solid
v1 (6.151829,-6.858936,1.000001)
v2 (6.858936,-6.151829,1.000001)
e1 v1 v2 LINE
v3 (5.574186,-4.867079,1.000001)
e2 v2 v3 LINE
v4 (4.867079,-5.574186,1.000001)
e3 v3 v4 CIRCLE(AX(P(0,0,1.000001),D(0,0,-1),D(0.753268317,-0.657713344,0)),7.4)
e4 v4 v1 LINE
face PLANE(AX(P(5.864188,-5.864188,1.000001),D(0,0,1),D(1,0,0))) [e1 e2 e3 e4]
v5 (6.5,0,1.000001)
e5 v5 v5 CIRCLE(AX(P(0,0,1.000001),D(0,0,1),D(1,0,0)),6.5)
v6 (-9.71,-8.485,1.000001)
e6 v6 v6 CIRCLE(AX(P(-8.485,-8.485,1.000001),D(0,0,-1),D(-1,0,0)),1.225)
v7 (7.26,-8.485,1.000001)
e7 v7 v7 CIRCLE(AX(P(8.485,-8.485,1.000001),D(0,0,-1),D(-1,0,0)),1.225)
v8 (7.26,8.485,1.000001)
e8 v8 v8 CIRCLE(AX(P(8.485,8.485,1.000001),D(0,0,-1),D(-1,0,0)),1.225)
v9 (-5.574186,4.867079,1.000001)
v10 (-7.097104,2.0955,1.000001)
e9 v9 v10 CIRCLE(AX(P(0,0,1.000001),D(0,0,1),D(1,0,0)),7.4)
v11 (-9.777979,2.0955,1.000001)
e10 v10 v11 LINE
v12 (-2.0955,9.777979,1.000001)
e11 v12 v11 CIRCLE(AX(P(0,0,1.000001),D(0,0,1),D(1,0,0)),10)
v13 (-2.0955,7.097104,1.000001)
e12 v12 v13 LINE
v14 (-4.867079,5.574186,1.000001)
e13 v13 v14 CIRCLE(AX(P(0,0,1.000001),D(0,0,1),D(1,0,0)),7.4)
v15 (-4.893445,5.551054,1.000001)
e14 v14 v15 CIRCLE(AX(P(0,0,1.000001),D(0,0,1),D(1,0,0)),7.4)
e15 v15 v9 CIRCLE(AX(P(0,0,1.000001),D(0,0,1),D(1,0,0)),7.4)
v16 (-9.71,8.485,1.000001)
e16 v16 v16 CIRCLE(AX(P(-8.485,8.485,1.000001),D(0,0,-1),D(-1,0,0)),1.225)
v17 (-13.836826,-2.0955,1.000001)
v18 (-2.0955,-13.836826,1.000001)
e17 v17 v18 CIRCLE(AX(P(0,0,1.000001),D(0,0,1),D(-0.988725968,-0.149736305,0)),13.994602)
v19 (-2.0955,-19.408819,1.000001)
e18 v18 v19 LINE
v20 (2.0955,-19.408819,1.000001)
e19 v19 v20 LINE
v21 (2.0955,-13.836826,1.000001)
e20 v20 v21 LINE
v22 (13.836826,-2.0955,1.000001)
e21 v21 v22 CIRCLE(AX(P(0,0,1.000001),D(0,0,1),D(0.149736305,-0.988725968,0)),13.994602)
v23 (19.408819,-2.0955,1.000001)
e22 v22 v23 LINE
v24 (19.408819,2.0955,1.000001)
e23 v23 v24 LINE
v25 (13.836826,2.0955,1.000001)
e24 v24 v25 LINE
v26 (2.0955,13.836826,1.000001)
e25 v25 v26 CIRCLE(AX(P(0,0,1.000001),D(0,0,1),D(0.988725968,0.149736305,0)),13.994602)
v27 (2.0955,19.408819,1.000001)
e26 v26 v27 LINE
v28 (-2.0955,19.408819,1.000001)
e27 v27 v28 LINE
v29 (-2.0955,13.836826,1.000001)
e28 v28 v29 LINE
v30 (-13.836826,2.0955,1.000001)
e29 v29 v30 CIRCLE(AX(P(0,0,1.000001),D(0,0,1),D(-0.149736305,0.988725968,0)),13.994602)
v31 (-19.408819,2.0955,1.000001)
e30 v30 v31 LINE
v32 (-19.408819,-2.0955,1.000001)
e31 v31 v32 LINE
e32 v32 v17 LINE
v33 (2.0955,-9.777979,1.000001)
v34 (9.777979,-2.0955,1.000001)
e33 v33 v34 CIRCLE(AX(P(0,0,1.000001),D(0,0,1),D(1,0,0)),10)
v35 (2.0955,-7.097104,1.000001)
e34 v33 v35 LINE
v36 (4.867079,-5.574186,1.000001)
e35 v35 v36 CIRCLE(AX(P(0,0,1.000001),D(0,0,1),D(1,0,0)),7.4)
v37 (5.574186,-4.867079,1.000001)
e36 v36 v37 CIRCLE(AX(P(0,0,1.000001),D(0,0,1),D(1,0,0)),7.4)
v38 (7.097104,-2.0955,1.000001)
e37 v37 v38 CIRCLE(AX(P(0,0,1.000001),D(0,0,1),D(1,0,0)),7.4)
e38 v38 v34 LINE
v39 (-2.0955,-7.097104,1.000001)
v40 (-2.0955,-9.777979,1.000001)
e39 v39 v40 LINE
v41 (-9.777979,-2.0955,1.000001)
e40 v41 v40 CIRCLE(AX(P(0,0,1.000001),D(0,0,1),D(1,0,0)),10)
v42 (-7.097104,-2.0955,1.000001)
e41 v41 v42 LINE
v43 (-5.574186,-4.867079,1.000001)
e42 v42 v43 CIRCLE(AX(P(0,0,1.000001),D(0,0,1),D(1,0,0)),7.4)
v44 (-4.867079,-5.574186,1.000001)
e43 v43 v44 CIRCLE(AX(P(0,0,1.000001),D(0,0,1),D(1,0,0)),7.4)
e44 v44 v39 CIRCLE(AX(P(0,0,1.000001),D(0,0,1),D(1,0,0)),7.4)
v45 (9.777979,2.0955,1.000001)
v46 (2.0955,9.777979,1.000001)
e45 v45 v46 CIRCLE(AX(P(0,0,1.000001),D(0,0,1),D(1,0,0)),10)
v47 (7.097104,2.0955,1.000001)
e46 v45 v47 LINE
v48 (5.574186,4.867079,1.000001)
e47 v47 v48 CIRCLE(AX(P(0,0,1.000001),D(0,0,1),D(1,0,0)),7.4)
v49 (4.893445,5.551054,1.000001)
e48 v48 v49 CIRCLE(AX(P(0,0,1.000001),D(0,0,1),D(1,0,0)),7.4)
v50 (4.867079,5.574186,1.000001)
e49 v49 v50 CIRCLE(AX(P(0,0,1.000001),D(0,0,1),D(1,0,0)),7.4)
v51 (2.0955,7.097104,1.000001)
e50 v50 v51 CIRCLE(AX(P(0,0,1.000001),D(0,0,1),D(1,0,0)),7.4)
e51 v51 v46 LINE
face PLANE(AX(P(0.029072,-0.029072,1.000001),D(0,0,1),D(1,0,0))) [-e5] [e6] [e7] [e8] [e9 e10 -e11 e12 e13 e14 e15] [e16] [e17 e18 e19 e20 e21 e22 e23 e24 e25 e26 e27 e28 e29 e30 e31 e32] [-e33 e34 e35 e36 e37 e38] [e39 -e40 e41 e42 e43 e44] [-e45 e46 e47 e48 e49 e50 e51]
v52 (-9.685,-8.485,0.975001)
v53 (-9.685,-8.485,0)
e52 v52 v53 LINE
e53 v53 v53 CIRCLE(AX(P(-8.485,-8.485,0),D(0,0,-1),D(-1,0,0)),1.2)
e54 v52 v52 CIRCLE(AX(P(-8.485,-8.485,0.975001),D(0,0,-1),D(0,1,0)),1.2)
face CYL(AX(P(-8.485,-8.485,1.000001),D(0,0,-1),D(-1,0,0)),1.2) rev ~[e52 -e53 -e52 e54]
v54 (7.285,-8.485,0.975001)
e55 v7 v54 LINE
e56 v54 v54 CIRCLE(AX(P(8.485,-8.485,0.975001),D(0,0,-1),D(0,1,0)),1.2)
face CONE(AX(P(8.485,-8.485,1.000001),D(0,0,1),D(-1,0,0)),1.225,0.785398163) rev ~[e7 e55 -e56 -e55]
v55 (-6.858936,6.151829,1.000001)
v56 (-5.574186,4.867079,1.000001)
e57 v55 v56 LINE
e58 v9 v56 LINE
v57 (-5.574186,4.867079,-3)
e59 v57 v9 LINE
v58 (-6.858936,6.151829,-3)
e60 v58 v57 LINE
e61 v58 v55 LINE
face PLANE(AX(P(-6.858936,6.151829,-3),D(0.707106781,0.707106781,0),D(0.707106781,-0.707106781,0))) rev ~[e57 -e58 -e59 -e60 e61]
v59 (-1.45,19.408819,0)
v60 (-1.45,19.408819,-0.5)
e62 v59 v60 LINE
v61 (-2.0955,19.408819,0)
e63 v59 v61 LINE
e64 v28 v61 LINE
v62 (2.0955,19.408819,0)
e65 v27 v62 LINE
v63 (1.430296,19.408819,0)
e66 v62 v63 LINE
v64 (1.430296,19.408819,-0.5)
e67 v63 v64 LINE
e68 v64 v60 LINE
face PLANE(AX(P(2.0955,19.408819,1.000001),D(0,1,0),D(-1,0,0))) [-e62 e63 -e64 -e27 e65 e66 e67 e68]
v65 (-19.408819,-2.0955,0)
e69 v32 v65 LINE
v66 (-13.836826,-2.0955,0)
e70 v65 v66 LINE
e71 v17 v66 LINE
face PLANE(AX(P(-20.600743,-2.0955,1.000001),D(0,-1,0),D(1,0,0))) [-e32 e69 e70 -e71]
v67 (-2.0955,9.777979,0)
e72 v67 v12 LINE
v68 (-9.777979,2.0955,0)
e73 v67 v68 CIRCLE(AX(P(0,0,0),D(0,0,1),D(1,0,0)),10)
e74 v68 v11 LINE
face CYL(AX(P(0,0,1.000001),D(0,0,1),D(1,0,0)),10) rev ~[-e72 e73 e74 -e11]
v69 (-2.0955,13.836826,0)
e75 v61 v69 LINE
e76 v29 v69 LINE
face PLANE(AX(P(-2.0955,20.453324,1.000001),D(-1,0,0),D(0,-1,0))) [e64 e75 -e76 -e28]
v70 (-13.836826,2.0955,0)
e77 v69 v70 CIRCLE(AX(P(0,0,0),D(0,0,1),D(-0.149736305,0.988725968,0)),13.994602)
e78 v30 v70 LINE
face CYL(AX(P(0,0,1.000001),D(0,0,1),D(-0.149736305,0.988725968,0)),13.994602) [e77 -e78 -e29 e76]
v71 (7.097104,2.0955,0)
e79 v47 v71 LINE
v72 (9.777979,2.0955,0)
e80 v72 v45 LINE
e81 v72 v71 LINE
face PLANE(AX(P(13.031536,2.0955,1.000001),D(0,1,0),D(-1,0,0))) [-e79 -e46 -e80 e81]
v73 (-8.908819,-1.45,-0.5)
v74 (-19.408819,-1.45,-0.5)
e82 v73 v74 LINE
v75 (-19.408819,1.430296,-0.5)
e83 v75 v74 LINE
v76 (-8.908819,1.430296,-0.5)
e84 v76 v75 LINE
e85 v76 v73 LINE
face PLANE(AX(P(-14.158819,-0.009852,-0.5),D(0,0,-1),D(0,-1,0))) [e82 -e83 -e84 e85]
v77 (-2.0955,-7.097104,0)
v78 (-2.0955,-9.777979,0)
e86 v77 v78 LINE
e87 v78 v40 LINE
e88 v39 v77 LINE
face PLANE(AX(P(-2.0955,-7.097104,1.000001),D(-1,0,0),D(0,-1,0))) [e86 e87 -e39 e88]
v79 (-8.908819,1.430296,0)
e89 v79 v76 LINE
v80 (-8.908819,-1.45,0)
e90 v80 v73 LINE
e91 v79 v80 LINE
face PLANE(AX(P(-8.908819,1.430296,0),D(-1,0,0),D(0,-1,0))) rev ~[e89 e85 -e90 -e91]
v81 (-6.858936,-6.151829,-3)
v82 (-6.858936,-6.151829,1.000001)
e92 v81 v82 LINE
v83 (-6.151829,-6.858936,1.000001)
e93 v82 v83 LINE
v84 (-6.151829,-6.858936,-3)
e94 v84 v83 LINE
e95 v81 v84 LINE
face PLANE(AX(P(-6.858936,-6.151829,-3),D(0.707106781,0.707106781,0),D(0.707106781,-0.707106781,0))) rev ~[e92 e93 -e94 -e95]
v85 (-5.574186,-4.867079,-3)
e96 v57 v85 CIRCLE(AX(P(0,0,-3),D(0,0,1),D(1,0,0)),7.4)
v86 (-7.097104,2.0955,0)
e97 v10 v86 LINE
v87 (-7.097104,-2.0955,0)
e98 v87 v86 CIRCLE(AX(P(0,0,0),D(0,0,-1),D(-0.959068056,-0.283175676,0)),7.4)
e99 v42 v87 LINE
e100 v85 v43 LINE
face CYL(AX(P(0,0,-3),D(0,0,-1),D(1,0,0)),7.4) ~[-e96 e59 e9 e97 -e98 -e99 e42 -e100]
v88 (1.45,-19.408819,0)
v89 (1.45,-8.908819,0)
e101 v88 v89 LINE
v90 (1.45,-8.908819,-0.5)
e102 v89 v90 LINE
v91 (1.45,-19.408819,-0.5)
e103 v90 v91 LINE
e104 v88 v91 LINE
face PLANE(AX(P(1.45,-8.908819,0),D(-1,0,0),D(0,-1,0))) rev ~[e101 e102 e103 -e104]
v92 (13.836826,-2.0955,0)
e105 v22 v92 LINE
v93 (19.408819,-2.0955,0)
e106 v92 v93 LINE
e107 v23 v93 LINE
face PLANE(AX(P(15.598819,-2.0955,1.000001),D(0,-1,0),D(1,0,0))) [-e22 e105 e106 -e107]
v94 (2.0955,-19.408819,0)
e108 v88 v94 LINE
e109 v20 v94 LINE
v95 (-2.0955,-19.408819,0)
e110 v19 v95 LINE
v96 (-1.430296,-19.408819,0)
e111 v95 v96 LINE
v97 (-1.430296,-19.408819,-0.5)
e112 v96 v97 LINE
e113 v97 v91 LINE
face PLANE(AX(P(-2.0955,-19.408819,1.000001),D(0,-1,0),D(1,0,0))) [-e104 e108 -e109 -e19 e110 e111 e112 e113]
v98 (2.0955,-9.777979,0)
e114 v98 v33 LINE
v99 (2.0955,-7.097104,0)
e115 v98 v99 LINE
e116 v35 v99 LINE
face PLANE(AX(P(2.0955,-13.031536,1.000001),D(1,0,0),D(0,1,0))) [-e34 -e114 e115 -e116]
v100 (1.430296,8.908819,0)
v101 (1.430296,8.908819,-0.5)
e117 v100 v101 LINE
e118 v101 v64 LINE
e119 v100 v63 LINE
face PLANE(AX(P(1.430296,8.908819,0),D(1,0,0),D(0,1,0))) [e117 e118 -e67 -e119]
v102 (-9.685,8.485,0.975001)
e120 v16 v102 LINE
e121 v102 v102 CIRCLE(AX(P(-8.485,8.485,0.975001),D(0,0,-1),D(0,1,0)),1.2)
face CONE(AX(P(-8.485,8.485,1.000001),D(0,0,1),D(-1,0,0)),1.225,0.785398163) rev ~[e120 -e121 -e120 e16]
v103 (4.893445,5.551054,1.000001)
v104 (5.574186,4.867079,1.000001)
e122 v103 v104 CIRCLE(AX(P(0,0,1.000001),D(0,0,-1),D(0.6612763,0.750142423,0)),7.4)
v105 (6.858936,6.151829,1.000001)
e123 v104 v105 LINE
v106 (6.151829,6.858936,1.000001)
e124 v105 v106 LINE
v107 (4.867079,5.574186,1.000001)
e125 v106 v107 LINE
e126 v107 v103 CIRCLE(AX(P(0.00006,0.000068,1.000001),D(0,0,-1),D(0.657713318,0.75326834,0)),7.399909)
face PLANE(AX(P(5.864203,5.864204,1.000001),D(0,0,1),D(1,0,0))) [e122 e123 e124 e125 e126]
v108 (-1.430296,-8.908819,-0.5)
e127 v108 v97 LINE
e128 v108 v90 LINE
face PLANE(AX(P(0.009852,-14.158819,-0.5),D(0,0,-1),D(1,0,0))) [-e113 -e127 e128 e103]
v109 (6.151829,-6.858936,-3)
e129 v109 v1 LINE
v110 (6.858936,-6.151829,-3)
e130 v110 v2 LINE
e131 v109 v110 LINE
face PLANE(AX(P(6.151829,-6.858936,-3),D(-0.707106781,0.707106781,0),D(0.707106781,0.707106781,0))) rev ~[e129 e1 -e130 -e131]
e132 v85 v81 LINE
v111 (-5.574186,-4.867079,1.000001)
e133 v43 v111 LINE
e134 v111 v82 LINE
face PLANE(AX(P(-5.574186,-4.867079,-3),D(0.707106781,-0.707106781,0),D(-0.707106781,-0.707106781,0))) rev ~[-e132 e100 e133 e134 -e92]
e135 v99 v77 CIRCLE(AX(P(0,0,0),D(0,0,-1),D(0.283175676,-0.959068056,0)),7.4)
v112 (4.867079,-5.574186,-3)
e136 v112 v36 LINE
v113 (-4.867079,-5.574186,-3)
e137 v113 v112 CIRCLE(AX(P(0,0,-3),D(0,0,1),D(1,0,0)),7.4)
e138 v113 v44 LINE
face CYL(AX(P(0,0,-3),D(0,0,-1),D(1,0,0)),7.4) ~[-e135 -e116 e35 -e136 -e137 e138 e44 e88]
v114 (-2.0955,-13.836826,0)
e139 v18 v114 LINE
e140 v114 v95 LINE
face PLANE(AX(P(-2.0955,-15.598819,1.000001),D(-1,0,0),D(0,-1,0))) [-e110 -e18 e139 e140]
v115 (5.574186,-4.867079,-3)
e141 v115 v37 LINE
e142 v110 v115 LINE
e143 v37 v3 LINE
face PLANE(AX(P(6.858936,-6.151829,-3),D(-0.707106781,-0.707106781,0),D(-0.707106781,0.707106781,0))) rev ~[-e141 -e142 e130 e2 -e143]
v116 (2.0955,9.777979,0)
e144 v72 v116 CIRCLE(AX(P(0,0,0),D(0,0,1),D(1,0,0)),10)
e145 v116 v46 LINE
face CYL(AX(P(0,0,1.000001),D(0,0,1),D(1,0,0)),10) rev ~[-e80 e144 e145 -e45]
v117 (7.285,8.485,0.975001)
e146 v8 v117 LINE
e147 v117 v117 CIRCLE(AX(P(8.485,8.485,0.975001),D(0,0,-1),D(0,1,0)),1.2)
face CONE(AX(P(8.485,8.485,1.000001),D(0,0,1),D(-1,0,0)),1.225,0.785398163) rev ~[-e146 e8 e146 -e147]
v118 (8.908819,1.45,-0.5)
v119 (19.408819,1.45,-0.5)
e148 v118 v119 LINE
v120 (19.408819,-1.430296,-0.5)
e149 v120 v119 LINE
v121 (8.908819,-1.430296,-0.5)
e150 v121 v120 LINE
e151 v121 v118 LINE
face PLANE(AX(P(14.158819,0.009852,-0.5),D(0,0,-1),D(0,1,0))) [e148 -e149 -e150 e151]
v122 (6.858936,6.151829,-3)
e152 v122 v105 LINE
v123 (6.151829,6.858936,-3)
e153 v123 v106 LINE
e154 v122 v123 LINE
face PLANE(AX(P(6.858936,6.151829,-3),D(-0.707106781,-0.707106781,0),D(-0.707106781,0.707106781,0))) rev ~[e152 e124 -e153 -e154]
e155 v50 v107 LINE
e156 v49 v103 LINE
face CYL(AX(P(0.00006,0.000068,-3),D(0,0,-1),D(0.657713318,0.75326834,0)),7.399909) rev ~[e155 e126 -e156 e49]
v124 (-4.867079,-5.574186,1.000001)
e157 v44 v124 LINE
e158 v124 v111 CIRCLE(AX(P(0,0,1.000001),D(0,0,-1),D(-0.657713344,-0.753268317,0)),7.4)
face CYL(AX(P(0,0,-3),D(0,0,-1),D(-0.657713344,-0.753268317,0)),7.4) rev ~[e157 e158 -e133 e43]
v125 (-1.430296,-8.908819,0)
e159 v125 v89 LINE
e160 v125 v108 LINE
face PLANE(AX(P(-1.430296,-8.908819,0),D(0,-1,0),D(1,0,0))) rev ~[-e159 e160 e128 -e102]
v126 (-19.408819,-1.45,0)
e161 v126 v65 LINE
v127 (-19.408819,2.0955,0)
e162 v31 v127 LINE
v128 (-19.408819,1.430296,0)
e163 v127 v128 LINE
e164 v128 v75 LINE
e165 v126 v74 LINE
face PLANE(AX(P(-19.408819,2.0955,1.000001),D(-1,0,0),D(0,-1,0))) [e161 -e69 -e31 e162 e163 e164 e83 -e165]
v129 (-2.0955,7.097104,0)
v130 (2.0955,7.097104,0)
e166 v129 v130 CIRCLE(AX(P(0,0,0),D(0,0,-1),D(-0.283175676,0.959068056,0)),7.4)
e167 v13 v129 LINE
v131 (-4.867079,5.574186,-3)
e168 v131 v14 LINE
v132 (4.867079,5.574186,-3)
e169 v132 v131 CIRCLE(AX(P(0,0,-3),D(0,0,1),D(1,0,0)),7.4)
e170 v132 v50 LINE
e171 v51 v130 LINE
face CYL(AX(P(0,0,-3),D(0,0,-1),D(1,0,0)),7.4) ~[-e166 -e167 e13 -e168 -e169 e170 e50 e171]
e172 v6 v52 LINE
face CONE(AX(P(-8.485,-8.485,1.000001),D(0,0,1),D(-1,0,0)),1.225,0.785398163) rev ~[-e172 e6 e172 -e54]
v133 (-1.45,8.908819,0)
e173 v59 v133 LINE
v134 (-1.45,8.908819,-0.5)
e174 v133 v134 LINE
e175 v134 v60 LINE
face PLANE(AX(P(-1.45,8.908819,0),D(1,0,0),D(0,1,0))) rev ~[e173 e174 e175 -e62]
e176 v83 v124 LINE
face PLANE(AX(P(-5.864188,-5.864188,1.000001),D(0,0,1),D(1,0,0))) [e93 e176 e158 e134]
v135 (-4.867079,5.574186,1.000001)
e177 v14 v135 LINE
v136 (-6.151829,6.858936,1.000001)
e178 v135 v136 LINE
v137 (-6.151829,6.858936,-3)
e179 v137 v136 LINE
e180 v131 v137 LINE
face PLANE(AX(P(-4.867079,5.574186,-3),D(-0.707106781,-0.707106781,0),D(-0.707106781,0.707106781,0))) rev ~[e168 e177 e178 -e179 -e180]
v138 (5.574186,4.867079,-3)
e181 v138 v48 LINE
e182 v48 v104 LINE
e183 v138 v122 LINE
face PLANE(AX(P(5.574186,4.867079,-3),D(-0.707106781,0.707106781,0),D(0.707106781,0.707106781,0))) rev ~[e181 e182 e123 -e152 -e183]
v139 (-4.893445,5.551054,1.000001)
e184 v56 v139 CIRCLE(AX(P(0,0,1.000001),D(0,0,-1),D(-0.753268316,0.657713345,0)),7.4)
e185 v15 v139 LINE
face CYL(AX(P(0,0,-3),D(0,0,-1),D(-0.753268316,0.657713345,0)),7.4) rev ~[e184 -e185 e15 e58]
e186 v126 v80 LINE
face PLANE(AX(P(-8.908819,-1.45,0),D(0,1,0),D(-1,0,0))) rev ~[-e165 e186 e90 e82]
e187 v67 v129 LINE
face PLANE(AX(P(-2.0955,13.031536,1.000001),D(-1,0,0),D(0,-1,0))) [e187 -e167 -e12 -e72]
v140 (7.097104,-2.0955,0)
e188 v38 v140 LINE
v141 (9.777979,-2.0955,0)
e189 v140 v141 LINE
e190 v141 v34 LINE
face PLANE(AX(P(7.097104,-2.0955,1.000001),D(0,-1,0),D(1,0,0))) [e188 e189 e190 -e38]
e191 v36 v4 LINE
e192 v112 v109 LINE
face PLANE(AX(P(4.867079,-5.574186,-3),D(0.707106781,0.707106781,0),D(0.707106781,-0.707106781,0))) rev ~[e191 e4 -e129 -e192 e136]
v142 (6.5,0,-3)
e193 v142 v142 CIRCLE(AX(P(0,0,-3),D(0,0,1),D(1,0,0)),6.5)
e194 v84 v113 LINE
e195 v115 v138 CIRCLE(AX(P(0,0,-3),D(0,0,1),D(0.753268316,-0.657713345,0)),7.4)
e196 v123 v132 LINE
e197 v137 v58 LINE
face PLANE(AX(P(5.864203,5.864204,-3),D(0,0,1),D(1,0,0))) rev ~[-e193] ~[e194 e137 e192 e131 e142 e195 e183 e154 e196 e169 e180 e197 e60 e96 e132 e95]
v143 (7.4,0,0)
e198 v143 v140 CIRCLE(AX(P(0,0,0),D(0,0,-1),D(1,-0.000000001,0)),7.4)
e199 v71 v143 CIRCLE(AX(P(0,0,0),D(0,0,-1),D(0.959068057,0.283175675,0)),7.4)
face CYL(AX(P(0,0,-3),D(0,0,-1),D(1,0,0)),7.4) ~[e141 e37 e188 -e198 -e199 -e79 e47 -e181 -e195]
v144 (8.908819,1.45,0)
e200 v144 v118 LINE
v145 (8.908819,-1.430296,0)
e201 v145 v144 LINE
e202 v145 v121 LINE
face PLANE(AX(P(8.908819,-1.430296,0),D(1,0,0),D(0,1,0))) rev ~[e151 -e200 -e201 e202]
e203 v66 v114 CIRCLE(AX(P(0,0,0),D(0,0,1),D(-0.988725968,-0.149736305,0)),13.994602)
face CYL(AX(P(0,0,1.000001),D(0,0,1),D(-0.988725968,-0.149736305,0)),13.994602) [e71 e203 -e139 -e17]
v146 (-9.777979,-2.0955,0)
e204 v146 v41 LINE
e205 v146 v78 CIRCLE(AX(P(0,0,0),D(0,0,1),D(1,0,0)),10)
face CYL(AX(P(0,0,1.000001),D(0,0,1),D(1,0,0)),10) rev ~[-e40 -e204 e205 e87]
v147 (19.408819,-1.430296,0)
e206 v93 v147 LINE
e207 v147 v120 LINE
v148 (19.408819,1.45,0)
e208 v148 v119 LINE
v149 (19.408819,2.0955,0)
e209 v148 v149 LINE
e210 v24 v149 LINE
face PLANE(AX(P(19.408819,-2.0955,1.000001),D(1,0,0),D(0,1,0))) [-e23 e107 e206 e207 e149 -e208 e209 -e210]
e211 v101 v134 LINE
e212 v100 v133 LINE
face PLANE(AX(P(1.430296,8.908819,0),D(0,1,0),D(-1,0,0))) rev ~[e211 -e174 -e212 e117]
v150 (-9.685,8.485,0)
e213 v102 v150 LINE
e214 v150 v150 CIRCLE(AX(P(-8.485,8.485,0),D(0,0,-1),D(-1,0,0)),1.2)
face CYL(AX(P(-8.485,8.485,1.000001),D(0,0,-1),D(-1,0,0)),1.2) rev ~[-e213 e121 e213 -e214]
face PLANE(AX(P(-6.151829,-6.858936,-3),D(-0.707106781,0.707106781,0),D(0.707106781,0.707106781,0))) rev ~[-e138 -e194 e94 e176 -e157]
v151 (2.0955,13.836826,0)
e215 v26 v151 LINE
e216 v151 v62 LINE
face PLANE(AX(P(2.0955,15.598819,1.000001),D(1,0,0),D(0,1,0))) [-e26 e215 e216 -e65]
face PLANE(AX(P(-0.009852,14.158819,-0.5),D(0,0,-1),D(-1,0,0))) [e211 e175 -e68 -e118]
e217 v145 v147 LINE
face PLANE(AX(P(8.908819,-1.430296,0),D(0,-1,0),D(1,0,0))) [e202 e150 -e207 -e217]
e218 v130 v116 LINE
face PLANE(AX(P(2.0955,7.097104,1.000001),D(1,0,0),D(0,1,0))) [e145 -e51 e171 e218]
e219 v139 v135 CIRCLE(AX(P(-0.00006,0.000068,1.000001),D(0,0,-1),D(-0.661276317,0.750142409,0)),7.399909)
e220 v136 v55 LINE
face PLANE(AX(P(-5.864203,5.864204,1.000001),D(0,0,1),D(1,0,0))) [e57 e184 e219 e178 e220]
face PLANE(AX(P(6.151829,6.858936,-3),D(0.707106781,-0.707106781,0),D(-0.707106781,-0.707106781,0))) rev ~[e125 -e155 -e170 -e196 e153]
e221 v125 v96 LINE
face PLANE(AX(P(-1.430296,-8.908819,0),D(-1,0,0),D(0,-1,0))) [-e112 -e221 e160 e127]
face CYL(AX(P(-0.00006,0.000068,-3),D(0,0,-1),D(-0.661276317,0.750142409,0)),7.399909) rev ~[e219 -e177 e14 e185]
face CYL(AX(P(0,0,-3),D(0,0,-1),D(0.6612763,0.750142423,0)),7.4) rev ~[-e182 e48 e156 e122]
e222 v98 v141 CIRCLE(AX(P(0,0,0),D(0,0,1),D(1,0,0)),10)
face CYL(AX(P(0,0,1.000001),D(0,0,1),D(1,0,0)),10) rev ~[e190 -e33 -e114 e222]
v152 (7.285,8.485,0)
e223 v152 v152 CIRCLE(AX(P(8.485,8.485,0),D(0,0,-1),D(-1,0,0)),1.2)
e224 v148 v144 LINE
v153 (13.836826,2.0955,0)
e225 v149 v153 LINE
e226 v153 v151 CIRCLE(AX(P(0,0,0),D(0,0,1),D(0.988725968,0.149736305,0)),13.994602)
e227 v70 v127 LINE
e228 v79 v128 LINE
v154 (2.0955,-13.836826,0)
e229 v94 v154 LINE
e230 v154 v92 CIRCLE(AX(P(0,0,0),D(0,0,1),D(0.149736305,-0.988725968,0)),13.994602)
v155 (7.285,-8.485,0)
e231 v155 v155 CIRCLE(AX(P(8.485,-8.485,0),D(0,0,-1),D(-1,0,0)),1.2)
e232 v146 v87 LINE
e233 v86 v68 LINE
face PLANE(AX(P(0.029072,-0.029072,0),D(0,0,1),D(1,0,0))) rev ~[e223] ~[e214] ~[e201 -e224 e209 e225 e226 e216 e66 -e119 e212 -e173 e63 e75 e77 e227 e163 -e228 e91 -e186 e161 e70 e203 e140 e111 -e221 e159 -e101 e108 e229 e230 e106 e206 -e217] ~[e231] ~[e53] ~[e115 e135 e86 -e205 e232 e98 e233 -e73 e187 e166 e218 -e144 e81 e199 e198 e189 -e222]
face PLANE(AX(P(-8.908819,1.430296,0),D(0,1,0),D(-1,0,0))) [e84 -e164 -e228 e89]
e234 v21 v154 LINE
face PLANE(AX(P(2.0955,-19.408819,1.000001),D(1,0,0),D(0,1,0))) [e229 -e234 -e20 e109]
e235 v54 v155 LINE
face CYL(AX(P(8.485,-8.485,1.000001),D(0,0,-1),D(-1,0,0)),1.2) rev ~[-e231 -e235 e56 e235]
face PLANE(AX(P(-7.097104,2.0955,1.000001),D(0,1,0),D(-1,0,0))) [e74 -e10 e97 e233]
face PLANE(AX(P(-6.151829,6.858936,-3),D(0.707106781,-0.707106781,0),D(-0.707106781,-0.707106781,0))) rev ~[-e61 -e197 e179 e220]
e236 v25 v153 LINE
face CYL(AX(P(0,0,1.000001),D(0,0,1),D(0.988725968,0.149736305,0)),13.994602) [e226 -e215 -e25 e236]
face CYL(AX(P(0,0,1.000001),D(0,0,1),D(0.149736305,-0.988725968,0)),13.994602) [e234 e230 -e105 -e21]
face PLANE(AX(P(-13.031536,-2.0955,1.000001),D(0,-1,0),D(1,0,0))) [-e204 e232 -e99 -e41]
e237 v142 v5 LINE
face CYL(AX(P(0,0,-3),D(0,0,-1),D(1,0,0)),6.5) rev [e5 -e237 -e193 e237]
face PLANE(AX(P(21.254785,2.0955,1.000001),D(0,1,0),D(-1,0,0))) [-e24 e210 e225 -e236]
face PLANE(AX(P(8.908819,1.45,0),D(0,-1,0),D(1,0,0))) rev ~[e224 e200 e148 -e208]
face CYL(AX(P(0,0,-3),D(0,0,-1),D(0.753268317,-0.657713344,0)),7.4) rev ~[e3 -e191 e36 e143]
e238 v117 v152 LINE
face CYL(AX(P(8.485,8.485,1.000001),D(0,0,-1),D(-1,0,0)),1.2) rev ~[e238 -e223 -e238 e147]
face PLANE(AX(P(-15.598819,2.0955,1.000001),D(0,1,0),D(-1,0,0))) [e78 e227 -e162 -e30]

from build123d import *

# Parameters (mm, degrees)
BOSS_EXTRUDE1_DEPTH            = 1.0000005
BOSS_EXTRUDE1_DEPTH_BACK       = 3
SKETCH1_R                      = 7.4
SKETCH1_R_2                    = 6.5
BOSS_EXTRUDE2_DEPTH            = 1.0000005
BOSS_EXTRUDE12_START           = -3
BOSS_EXTRUDE12_DEPTH           = 4.000001
SKETCH6_W                      = 2.880295876
SKETCH6_H                      = 10.5
BOSS_EXTRUDE8_DEPTH            = 0.5
CIRPATTERN3_COUNT              = 4
SKETCH7_R                      = 14
SKETCH7_R_2                    = 10
BOSS_EXTRUDE10_DEPTH           = 1.0000005
M2_CLEARANCE_HOLE1_D           = 2.4
M2_CLEARANCE_HOLE1_CSINK_D     = 2.45
M2_CLEARANCE_HOLE1_CSINK_ANGLE = 90
CUT_EXTRUDE1_DEPTH             = 28.738141627


with BuildPart() as part:
    # Sketch1 → Boss-Extrude1 (new, two sides: drawn at the far end of the back side and taken through both)
    with BuildSketch(Plane.XY.offset(-BOSS_EXTRUDE1_DEPTH_BACK)):
        Circle(SKETCH1_R)
        Circle(SKETCH1_R_2, mode=Mode.SUBTRACT)
    extrude(amount=BOSS_EXTRUDE1_DEPTH + BOSS_EXTRUDE1_DEPTH_BACK)

    # Sketch2 → Boss-Extrude2 (add)
    with BuildSketch(Plane.XY.offset(1.0000005)):
        with BuildLine():
            ThreePointArc((2.0955, -15.598818832), (6.979767945, -14.106633498), (11.129112031, -11.129112031))
            ThreePointArc((11.129112031, -11.129112031), (14.106633498, -6.979767945), (15.598818832, -2.0955))
            Line((15.598818832, -2.0955), (19.408818832, -2.0955))
            Line((19.408818832, -2.0955), (19.408818832, 2.0955))
            Line((19.408818832, 2.0955), (15.598818832, 2.0955))
            ThreePointArc((15.598818832, 2.0955), (11.129112031, 11.129112031), (2.0955, 15.598818832))
            Line((2.0955, 15.598818832), (2.0955, 19.408818832))
            Line((2.0955, 19.408818832), (-2.0955, 19.408818832))
            Line((-2.0955, 19.408818832), (-2.0955, 15.598818832))
            ThreePointArc((-2.0955, 15.598818832), (-11.129112031, 11.129112031), (-15.598818832, 2.0955))
            Line((-15.598818832, 2.0955), (-19.408818832, 2.0955))
            Line((-19.408818832, 2.0955), (-19.408818832, -2.0955))
            Line((-19.408818832, -2.0955), (-15.598818832, -2.0955))
            ThreePointArc((-15.598818832, -2.0955), (-11.129112031, -11.129112031), (-2.0955, -15.598818832))
            Line((-2.0955, -15.598818832), (-2.0955, -19.408818832))
            Line((-2.0955, -19.408818832), (2.0955, -19.408818832))
            Line((2.0955, -19.408818832), (2.0955, -15.598818832))
        make_face()
        with BuildLine():
            ThreePointArc((7.4, 0), (7.323884446, -1.05863904), (7.097103617, -2.0955))
            Line((7.097103617, -2.0955), (13.031535896, -2.0955))
            ThreePointArc((13.031535896, -2.0955), (11.753270525, -6.006053615), (9.333060807, -9.333060807))
            ThreePointArc((9.333060807, -9.333060807), (6.006053615, -11.753270525), (2.0955, -13.031535896))
            Line((2.0955, -13.031535896), (2.0955, -7.097103617))
            ThreePointArc((2.0955, -7.097103617), (0, -7.4), (-2.0955, -7.097103617))
            Line((-2.0955, -7.097103617), (-2.0955, -13.031535896))
            ThreePointArc((-2.0955, -13.031535896), (-9.333060807, -9.333060807), (-13.031535896, -2.0955))
            Line((-13.031535896, -2.0955), (-7.097103617, -2.0955))
            ThreePointArc((-7.097103617, -2.0955), (-7.4, 0), (-7.097103617, 2.0955))
            Line((-7.097103617, 2.0955), (-13.031535896, 2.0955))
            ThreePointArc((-13.031535896, 2.0955), (-9.333060807, 9.333060807), (-2.0955, 13.031535896))
            Line((-2.0955, 13.031535896), (-2.0955, 7.097103617))
            ThreePointArc((-2.0955, 7.097103617), (0, 7.4), (2.0955, 7.097103617))
            Line((2.0955, 7.097103617), (2.0955, 13.031535896))
            ThreePointArc((2.0955, 13.031535896), (9.333060807, 9.333060807), (13.031535896, 2.0955))
            Line((13.031535896, 2.0955), (7.097103617, 2.0955))
            ThreePointArc((7.097103617, 2.0955), (7.323884446, 1.05863904), (7.4, 0))
        make_face(mode=Mode.SUBTRACT)
    extrude(amount=-BOSS_EXTRUDE2_DEPTH)

    # Sketch3 → Boss-Extrude12 (add)
    with BuildSketch(Plane.XY.offset(BOSS_EXTRUDE12_START)):
        with BuildLine():
            ThreePointArc((4.867078755, 5.574185536), (4.880275394, 5.562635354), (4.893444623, 5.551053929))
            ThreePointArc((4.893444623, 5.551053929), (5.244976244, 5.220174729), (5.574185536, 4.867078755))
            Line((5.574185536, 4.867078755), (6.858935778, 6.151828996))
            Line((6.858935778, 6.151828996), (6.151828996, 6.858935778))
            Line((6.151828996, 6.858935778), (4.867078755, 5.574185536))
        make_face()
        with BuildLine():
            ThreePointArc((-4.893444623, 5.551053929), (-4.880275394, 5.562635354), (-4.867078755, 5.574185536))
            Line((-4.867078755, 5.574185536), (-6.151828996, 6.858935778))
            Line((-6.151828996, 6.858935778), (-6.858935778, 6.151828996))
            Line((-6.858935778, 6.151828996), (-5.574185536, 4.867078755))
            ThreePointArc((-5.574185536, 4.867078755), (-5.244976244, 5.220174729), (-4.893444623, 5.551053929))
        make_face()
        with BuildLine():
            Line((6.858935778, -6.151828996), (5.574185536, -4.867078755))
            ThreePointArc((5.574185536, -4.867078755), (5.232590181, -5.232590181), (4.867078755, -5.574185536))
            Line((4.867078755, -5.574185536), (6.151828996, -6.858935778))
            Line((6.151828996, -6.858935778), (6.858935778, -6.151828996))
        make_face()
        with BuildLine():
            ThreePointArc((-4.867078755, -5.574185536), (-5.232590181, -5.232590181), (-5.574185536, -4.867078755))
            Line((-5.574185536, -4.867078755), (-6.858935778, -6.151828996))
            Line((-6.858935778, -6.151828996), (-6.151828996, -6.858935778))
            Line((-6.151828996, -6.858935778), (-4.867078755, -5.574185536))
        make_face()
    extrude(amount=BOSS_EXTRUDE12_DEPTH)

    # Sketch6 → Boss-Extrude8 (add)
    with BuildSketch(Plane(origin=(0, 0, 0), x_dir=(-1, 0, 0), z_dir=(0, 0, -1))):
        with Locations((0.009852062, 14.158818832)):
            Rectangle(SKETCH6_W, SKETCH6_H)
    boss_extrude8 = extrude(amount=BOSS_EXTRUDE8_DEPTH)

    # CirPattern3: Boss-Extrude8 ×4 about axis
    cirpattern3_axis = Axis((0, 0, 0), (0, 0, 1))
    for i in range(1, CIRPATTERN3_COUNT):
        add(boss_extrude8.rotate(cirpattern3_axis, i * 360 / CIRPATTERN3_COUNT))

    # Sketch7 → Boss-Extrude10 (add)
    with BuildSketch(Plane.XY.offset(1.0000005)):
        Circle(SKETCH7_R)
        Circle(SKETCH7_R_2, mode=Mode.SUBTRACT)
    extrude(amount=-BOSS_EXTRUDE10_DEPTH)

    # M2 Clearance Hole1 (through all)
    with Locations(Plane.XY.offset(1.0000005)):
        with Locations((0, 0), (8.485, -8.485), (-8.485, 8.485), (-8.485, -8.485), (8.485, 8.485)):
            CounterSinkHole(M2_CLEARANCE_HOLE1_D / 2, M2_CLEARANCE_HOLE1_CSINK_D / 2, counter_sink_angle=M2_CLEARANCE_HOLE1_CSINK_ANGLE)

    # Sketch10 → Cut-Extrude1 (cut, through all)
    with BuildSketch(Plane.XY.offset(1.0000005)):
        with BuildLine():
            ThreePointArc((-2.0955, 13.83682648), (-9.895678028, 9.895678028), (-13.83682648, 2.0955))
            Line((-13.83682648, 2.0955), (-20.600743229, 2.0955))
            ThreePointArc((-20.600743229, 2.0955), (-14.335944494, 14.286228168), (-2.0955, 20.453324327))
            Line((-2.0955, 20.453324327), (-2.0955, 13.83682648))
        make_face()
        with BuildLine():
            ThreePointArc((13.83682648, 2.0955), (9.895678028, 9.895678028), (2.0955, 13.83682648))
            Line((2.0955, 13.83682648), (2.0955, 20.453324327))
            ThreePointArc((2.0955, 20.453324327), (15.477172624, 15.2424301), (21.254785436, 2.0955))
            Line((21.254785436, 2.0955), (13.83682648, 2.0955))
        make_face()
        with BuildLine():
            ThreePointArc((-2.0955, -21.163548472), (-15.297243757, -15.462085596), (-20.600743229, -2.0955))
            Line((-20.600743229, -2.0955), (-13.83682648, -2.0955))
            ThreePointArc((-13.83682648, -2.0955), (-9.895678028, -9.895678028), (-2.0955, -13.83682648))
            Line((-2.0955, -13.83682648), (-2.0955, -21.163548472))
        make_face()
        with BuildLine():
            ThreePointArc((2.0955, -13.83682648), (9.895678028, -9.895678028), (13.83682648, -2.0955))
            Line((13.83682648, -2.0955), (21.254785436, -2.0955))
            ThreePointArc((21.254785436, -2.0955), (15.624264861, -15.597542172), (2.0955, -21.163548472))
            Line((2.0955, -21.163548472), (2.0955, -13.83682648))
        make_face()
    extrude(amount=-CUT_EXTRUDE1_DEPTH, mode=Mode.SUBTRACT)


solid = part.part
